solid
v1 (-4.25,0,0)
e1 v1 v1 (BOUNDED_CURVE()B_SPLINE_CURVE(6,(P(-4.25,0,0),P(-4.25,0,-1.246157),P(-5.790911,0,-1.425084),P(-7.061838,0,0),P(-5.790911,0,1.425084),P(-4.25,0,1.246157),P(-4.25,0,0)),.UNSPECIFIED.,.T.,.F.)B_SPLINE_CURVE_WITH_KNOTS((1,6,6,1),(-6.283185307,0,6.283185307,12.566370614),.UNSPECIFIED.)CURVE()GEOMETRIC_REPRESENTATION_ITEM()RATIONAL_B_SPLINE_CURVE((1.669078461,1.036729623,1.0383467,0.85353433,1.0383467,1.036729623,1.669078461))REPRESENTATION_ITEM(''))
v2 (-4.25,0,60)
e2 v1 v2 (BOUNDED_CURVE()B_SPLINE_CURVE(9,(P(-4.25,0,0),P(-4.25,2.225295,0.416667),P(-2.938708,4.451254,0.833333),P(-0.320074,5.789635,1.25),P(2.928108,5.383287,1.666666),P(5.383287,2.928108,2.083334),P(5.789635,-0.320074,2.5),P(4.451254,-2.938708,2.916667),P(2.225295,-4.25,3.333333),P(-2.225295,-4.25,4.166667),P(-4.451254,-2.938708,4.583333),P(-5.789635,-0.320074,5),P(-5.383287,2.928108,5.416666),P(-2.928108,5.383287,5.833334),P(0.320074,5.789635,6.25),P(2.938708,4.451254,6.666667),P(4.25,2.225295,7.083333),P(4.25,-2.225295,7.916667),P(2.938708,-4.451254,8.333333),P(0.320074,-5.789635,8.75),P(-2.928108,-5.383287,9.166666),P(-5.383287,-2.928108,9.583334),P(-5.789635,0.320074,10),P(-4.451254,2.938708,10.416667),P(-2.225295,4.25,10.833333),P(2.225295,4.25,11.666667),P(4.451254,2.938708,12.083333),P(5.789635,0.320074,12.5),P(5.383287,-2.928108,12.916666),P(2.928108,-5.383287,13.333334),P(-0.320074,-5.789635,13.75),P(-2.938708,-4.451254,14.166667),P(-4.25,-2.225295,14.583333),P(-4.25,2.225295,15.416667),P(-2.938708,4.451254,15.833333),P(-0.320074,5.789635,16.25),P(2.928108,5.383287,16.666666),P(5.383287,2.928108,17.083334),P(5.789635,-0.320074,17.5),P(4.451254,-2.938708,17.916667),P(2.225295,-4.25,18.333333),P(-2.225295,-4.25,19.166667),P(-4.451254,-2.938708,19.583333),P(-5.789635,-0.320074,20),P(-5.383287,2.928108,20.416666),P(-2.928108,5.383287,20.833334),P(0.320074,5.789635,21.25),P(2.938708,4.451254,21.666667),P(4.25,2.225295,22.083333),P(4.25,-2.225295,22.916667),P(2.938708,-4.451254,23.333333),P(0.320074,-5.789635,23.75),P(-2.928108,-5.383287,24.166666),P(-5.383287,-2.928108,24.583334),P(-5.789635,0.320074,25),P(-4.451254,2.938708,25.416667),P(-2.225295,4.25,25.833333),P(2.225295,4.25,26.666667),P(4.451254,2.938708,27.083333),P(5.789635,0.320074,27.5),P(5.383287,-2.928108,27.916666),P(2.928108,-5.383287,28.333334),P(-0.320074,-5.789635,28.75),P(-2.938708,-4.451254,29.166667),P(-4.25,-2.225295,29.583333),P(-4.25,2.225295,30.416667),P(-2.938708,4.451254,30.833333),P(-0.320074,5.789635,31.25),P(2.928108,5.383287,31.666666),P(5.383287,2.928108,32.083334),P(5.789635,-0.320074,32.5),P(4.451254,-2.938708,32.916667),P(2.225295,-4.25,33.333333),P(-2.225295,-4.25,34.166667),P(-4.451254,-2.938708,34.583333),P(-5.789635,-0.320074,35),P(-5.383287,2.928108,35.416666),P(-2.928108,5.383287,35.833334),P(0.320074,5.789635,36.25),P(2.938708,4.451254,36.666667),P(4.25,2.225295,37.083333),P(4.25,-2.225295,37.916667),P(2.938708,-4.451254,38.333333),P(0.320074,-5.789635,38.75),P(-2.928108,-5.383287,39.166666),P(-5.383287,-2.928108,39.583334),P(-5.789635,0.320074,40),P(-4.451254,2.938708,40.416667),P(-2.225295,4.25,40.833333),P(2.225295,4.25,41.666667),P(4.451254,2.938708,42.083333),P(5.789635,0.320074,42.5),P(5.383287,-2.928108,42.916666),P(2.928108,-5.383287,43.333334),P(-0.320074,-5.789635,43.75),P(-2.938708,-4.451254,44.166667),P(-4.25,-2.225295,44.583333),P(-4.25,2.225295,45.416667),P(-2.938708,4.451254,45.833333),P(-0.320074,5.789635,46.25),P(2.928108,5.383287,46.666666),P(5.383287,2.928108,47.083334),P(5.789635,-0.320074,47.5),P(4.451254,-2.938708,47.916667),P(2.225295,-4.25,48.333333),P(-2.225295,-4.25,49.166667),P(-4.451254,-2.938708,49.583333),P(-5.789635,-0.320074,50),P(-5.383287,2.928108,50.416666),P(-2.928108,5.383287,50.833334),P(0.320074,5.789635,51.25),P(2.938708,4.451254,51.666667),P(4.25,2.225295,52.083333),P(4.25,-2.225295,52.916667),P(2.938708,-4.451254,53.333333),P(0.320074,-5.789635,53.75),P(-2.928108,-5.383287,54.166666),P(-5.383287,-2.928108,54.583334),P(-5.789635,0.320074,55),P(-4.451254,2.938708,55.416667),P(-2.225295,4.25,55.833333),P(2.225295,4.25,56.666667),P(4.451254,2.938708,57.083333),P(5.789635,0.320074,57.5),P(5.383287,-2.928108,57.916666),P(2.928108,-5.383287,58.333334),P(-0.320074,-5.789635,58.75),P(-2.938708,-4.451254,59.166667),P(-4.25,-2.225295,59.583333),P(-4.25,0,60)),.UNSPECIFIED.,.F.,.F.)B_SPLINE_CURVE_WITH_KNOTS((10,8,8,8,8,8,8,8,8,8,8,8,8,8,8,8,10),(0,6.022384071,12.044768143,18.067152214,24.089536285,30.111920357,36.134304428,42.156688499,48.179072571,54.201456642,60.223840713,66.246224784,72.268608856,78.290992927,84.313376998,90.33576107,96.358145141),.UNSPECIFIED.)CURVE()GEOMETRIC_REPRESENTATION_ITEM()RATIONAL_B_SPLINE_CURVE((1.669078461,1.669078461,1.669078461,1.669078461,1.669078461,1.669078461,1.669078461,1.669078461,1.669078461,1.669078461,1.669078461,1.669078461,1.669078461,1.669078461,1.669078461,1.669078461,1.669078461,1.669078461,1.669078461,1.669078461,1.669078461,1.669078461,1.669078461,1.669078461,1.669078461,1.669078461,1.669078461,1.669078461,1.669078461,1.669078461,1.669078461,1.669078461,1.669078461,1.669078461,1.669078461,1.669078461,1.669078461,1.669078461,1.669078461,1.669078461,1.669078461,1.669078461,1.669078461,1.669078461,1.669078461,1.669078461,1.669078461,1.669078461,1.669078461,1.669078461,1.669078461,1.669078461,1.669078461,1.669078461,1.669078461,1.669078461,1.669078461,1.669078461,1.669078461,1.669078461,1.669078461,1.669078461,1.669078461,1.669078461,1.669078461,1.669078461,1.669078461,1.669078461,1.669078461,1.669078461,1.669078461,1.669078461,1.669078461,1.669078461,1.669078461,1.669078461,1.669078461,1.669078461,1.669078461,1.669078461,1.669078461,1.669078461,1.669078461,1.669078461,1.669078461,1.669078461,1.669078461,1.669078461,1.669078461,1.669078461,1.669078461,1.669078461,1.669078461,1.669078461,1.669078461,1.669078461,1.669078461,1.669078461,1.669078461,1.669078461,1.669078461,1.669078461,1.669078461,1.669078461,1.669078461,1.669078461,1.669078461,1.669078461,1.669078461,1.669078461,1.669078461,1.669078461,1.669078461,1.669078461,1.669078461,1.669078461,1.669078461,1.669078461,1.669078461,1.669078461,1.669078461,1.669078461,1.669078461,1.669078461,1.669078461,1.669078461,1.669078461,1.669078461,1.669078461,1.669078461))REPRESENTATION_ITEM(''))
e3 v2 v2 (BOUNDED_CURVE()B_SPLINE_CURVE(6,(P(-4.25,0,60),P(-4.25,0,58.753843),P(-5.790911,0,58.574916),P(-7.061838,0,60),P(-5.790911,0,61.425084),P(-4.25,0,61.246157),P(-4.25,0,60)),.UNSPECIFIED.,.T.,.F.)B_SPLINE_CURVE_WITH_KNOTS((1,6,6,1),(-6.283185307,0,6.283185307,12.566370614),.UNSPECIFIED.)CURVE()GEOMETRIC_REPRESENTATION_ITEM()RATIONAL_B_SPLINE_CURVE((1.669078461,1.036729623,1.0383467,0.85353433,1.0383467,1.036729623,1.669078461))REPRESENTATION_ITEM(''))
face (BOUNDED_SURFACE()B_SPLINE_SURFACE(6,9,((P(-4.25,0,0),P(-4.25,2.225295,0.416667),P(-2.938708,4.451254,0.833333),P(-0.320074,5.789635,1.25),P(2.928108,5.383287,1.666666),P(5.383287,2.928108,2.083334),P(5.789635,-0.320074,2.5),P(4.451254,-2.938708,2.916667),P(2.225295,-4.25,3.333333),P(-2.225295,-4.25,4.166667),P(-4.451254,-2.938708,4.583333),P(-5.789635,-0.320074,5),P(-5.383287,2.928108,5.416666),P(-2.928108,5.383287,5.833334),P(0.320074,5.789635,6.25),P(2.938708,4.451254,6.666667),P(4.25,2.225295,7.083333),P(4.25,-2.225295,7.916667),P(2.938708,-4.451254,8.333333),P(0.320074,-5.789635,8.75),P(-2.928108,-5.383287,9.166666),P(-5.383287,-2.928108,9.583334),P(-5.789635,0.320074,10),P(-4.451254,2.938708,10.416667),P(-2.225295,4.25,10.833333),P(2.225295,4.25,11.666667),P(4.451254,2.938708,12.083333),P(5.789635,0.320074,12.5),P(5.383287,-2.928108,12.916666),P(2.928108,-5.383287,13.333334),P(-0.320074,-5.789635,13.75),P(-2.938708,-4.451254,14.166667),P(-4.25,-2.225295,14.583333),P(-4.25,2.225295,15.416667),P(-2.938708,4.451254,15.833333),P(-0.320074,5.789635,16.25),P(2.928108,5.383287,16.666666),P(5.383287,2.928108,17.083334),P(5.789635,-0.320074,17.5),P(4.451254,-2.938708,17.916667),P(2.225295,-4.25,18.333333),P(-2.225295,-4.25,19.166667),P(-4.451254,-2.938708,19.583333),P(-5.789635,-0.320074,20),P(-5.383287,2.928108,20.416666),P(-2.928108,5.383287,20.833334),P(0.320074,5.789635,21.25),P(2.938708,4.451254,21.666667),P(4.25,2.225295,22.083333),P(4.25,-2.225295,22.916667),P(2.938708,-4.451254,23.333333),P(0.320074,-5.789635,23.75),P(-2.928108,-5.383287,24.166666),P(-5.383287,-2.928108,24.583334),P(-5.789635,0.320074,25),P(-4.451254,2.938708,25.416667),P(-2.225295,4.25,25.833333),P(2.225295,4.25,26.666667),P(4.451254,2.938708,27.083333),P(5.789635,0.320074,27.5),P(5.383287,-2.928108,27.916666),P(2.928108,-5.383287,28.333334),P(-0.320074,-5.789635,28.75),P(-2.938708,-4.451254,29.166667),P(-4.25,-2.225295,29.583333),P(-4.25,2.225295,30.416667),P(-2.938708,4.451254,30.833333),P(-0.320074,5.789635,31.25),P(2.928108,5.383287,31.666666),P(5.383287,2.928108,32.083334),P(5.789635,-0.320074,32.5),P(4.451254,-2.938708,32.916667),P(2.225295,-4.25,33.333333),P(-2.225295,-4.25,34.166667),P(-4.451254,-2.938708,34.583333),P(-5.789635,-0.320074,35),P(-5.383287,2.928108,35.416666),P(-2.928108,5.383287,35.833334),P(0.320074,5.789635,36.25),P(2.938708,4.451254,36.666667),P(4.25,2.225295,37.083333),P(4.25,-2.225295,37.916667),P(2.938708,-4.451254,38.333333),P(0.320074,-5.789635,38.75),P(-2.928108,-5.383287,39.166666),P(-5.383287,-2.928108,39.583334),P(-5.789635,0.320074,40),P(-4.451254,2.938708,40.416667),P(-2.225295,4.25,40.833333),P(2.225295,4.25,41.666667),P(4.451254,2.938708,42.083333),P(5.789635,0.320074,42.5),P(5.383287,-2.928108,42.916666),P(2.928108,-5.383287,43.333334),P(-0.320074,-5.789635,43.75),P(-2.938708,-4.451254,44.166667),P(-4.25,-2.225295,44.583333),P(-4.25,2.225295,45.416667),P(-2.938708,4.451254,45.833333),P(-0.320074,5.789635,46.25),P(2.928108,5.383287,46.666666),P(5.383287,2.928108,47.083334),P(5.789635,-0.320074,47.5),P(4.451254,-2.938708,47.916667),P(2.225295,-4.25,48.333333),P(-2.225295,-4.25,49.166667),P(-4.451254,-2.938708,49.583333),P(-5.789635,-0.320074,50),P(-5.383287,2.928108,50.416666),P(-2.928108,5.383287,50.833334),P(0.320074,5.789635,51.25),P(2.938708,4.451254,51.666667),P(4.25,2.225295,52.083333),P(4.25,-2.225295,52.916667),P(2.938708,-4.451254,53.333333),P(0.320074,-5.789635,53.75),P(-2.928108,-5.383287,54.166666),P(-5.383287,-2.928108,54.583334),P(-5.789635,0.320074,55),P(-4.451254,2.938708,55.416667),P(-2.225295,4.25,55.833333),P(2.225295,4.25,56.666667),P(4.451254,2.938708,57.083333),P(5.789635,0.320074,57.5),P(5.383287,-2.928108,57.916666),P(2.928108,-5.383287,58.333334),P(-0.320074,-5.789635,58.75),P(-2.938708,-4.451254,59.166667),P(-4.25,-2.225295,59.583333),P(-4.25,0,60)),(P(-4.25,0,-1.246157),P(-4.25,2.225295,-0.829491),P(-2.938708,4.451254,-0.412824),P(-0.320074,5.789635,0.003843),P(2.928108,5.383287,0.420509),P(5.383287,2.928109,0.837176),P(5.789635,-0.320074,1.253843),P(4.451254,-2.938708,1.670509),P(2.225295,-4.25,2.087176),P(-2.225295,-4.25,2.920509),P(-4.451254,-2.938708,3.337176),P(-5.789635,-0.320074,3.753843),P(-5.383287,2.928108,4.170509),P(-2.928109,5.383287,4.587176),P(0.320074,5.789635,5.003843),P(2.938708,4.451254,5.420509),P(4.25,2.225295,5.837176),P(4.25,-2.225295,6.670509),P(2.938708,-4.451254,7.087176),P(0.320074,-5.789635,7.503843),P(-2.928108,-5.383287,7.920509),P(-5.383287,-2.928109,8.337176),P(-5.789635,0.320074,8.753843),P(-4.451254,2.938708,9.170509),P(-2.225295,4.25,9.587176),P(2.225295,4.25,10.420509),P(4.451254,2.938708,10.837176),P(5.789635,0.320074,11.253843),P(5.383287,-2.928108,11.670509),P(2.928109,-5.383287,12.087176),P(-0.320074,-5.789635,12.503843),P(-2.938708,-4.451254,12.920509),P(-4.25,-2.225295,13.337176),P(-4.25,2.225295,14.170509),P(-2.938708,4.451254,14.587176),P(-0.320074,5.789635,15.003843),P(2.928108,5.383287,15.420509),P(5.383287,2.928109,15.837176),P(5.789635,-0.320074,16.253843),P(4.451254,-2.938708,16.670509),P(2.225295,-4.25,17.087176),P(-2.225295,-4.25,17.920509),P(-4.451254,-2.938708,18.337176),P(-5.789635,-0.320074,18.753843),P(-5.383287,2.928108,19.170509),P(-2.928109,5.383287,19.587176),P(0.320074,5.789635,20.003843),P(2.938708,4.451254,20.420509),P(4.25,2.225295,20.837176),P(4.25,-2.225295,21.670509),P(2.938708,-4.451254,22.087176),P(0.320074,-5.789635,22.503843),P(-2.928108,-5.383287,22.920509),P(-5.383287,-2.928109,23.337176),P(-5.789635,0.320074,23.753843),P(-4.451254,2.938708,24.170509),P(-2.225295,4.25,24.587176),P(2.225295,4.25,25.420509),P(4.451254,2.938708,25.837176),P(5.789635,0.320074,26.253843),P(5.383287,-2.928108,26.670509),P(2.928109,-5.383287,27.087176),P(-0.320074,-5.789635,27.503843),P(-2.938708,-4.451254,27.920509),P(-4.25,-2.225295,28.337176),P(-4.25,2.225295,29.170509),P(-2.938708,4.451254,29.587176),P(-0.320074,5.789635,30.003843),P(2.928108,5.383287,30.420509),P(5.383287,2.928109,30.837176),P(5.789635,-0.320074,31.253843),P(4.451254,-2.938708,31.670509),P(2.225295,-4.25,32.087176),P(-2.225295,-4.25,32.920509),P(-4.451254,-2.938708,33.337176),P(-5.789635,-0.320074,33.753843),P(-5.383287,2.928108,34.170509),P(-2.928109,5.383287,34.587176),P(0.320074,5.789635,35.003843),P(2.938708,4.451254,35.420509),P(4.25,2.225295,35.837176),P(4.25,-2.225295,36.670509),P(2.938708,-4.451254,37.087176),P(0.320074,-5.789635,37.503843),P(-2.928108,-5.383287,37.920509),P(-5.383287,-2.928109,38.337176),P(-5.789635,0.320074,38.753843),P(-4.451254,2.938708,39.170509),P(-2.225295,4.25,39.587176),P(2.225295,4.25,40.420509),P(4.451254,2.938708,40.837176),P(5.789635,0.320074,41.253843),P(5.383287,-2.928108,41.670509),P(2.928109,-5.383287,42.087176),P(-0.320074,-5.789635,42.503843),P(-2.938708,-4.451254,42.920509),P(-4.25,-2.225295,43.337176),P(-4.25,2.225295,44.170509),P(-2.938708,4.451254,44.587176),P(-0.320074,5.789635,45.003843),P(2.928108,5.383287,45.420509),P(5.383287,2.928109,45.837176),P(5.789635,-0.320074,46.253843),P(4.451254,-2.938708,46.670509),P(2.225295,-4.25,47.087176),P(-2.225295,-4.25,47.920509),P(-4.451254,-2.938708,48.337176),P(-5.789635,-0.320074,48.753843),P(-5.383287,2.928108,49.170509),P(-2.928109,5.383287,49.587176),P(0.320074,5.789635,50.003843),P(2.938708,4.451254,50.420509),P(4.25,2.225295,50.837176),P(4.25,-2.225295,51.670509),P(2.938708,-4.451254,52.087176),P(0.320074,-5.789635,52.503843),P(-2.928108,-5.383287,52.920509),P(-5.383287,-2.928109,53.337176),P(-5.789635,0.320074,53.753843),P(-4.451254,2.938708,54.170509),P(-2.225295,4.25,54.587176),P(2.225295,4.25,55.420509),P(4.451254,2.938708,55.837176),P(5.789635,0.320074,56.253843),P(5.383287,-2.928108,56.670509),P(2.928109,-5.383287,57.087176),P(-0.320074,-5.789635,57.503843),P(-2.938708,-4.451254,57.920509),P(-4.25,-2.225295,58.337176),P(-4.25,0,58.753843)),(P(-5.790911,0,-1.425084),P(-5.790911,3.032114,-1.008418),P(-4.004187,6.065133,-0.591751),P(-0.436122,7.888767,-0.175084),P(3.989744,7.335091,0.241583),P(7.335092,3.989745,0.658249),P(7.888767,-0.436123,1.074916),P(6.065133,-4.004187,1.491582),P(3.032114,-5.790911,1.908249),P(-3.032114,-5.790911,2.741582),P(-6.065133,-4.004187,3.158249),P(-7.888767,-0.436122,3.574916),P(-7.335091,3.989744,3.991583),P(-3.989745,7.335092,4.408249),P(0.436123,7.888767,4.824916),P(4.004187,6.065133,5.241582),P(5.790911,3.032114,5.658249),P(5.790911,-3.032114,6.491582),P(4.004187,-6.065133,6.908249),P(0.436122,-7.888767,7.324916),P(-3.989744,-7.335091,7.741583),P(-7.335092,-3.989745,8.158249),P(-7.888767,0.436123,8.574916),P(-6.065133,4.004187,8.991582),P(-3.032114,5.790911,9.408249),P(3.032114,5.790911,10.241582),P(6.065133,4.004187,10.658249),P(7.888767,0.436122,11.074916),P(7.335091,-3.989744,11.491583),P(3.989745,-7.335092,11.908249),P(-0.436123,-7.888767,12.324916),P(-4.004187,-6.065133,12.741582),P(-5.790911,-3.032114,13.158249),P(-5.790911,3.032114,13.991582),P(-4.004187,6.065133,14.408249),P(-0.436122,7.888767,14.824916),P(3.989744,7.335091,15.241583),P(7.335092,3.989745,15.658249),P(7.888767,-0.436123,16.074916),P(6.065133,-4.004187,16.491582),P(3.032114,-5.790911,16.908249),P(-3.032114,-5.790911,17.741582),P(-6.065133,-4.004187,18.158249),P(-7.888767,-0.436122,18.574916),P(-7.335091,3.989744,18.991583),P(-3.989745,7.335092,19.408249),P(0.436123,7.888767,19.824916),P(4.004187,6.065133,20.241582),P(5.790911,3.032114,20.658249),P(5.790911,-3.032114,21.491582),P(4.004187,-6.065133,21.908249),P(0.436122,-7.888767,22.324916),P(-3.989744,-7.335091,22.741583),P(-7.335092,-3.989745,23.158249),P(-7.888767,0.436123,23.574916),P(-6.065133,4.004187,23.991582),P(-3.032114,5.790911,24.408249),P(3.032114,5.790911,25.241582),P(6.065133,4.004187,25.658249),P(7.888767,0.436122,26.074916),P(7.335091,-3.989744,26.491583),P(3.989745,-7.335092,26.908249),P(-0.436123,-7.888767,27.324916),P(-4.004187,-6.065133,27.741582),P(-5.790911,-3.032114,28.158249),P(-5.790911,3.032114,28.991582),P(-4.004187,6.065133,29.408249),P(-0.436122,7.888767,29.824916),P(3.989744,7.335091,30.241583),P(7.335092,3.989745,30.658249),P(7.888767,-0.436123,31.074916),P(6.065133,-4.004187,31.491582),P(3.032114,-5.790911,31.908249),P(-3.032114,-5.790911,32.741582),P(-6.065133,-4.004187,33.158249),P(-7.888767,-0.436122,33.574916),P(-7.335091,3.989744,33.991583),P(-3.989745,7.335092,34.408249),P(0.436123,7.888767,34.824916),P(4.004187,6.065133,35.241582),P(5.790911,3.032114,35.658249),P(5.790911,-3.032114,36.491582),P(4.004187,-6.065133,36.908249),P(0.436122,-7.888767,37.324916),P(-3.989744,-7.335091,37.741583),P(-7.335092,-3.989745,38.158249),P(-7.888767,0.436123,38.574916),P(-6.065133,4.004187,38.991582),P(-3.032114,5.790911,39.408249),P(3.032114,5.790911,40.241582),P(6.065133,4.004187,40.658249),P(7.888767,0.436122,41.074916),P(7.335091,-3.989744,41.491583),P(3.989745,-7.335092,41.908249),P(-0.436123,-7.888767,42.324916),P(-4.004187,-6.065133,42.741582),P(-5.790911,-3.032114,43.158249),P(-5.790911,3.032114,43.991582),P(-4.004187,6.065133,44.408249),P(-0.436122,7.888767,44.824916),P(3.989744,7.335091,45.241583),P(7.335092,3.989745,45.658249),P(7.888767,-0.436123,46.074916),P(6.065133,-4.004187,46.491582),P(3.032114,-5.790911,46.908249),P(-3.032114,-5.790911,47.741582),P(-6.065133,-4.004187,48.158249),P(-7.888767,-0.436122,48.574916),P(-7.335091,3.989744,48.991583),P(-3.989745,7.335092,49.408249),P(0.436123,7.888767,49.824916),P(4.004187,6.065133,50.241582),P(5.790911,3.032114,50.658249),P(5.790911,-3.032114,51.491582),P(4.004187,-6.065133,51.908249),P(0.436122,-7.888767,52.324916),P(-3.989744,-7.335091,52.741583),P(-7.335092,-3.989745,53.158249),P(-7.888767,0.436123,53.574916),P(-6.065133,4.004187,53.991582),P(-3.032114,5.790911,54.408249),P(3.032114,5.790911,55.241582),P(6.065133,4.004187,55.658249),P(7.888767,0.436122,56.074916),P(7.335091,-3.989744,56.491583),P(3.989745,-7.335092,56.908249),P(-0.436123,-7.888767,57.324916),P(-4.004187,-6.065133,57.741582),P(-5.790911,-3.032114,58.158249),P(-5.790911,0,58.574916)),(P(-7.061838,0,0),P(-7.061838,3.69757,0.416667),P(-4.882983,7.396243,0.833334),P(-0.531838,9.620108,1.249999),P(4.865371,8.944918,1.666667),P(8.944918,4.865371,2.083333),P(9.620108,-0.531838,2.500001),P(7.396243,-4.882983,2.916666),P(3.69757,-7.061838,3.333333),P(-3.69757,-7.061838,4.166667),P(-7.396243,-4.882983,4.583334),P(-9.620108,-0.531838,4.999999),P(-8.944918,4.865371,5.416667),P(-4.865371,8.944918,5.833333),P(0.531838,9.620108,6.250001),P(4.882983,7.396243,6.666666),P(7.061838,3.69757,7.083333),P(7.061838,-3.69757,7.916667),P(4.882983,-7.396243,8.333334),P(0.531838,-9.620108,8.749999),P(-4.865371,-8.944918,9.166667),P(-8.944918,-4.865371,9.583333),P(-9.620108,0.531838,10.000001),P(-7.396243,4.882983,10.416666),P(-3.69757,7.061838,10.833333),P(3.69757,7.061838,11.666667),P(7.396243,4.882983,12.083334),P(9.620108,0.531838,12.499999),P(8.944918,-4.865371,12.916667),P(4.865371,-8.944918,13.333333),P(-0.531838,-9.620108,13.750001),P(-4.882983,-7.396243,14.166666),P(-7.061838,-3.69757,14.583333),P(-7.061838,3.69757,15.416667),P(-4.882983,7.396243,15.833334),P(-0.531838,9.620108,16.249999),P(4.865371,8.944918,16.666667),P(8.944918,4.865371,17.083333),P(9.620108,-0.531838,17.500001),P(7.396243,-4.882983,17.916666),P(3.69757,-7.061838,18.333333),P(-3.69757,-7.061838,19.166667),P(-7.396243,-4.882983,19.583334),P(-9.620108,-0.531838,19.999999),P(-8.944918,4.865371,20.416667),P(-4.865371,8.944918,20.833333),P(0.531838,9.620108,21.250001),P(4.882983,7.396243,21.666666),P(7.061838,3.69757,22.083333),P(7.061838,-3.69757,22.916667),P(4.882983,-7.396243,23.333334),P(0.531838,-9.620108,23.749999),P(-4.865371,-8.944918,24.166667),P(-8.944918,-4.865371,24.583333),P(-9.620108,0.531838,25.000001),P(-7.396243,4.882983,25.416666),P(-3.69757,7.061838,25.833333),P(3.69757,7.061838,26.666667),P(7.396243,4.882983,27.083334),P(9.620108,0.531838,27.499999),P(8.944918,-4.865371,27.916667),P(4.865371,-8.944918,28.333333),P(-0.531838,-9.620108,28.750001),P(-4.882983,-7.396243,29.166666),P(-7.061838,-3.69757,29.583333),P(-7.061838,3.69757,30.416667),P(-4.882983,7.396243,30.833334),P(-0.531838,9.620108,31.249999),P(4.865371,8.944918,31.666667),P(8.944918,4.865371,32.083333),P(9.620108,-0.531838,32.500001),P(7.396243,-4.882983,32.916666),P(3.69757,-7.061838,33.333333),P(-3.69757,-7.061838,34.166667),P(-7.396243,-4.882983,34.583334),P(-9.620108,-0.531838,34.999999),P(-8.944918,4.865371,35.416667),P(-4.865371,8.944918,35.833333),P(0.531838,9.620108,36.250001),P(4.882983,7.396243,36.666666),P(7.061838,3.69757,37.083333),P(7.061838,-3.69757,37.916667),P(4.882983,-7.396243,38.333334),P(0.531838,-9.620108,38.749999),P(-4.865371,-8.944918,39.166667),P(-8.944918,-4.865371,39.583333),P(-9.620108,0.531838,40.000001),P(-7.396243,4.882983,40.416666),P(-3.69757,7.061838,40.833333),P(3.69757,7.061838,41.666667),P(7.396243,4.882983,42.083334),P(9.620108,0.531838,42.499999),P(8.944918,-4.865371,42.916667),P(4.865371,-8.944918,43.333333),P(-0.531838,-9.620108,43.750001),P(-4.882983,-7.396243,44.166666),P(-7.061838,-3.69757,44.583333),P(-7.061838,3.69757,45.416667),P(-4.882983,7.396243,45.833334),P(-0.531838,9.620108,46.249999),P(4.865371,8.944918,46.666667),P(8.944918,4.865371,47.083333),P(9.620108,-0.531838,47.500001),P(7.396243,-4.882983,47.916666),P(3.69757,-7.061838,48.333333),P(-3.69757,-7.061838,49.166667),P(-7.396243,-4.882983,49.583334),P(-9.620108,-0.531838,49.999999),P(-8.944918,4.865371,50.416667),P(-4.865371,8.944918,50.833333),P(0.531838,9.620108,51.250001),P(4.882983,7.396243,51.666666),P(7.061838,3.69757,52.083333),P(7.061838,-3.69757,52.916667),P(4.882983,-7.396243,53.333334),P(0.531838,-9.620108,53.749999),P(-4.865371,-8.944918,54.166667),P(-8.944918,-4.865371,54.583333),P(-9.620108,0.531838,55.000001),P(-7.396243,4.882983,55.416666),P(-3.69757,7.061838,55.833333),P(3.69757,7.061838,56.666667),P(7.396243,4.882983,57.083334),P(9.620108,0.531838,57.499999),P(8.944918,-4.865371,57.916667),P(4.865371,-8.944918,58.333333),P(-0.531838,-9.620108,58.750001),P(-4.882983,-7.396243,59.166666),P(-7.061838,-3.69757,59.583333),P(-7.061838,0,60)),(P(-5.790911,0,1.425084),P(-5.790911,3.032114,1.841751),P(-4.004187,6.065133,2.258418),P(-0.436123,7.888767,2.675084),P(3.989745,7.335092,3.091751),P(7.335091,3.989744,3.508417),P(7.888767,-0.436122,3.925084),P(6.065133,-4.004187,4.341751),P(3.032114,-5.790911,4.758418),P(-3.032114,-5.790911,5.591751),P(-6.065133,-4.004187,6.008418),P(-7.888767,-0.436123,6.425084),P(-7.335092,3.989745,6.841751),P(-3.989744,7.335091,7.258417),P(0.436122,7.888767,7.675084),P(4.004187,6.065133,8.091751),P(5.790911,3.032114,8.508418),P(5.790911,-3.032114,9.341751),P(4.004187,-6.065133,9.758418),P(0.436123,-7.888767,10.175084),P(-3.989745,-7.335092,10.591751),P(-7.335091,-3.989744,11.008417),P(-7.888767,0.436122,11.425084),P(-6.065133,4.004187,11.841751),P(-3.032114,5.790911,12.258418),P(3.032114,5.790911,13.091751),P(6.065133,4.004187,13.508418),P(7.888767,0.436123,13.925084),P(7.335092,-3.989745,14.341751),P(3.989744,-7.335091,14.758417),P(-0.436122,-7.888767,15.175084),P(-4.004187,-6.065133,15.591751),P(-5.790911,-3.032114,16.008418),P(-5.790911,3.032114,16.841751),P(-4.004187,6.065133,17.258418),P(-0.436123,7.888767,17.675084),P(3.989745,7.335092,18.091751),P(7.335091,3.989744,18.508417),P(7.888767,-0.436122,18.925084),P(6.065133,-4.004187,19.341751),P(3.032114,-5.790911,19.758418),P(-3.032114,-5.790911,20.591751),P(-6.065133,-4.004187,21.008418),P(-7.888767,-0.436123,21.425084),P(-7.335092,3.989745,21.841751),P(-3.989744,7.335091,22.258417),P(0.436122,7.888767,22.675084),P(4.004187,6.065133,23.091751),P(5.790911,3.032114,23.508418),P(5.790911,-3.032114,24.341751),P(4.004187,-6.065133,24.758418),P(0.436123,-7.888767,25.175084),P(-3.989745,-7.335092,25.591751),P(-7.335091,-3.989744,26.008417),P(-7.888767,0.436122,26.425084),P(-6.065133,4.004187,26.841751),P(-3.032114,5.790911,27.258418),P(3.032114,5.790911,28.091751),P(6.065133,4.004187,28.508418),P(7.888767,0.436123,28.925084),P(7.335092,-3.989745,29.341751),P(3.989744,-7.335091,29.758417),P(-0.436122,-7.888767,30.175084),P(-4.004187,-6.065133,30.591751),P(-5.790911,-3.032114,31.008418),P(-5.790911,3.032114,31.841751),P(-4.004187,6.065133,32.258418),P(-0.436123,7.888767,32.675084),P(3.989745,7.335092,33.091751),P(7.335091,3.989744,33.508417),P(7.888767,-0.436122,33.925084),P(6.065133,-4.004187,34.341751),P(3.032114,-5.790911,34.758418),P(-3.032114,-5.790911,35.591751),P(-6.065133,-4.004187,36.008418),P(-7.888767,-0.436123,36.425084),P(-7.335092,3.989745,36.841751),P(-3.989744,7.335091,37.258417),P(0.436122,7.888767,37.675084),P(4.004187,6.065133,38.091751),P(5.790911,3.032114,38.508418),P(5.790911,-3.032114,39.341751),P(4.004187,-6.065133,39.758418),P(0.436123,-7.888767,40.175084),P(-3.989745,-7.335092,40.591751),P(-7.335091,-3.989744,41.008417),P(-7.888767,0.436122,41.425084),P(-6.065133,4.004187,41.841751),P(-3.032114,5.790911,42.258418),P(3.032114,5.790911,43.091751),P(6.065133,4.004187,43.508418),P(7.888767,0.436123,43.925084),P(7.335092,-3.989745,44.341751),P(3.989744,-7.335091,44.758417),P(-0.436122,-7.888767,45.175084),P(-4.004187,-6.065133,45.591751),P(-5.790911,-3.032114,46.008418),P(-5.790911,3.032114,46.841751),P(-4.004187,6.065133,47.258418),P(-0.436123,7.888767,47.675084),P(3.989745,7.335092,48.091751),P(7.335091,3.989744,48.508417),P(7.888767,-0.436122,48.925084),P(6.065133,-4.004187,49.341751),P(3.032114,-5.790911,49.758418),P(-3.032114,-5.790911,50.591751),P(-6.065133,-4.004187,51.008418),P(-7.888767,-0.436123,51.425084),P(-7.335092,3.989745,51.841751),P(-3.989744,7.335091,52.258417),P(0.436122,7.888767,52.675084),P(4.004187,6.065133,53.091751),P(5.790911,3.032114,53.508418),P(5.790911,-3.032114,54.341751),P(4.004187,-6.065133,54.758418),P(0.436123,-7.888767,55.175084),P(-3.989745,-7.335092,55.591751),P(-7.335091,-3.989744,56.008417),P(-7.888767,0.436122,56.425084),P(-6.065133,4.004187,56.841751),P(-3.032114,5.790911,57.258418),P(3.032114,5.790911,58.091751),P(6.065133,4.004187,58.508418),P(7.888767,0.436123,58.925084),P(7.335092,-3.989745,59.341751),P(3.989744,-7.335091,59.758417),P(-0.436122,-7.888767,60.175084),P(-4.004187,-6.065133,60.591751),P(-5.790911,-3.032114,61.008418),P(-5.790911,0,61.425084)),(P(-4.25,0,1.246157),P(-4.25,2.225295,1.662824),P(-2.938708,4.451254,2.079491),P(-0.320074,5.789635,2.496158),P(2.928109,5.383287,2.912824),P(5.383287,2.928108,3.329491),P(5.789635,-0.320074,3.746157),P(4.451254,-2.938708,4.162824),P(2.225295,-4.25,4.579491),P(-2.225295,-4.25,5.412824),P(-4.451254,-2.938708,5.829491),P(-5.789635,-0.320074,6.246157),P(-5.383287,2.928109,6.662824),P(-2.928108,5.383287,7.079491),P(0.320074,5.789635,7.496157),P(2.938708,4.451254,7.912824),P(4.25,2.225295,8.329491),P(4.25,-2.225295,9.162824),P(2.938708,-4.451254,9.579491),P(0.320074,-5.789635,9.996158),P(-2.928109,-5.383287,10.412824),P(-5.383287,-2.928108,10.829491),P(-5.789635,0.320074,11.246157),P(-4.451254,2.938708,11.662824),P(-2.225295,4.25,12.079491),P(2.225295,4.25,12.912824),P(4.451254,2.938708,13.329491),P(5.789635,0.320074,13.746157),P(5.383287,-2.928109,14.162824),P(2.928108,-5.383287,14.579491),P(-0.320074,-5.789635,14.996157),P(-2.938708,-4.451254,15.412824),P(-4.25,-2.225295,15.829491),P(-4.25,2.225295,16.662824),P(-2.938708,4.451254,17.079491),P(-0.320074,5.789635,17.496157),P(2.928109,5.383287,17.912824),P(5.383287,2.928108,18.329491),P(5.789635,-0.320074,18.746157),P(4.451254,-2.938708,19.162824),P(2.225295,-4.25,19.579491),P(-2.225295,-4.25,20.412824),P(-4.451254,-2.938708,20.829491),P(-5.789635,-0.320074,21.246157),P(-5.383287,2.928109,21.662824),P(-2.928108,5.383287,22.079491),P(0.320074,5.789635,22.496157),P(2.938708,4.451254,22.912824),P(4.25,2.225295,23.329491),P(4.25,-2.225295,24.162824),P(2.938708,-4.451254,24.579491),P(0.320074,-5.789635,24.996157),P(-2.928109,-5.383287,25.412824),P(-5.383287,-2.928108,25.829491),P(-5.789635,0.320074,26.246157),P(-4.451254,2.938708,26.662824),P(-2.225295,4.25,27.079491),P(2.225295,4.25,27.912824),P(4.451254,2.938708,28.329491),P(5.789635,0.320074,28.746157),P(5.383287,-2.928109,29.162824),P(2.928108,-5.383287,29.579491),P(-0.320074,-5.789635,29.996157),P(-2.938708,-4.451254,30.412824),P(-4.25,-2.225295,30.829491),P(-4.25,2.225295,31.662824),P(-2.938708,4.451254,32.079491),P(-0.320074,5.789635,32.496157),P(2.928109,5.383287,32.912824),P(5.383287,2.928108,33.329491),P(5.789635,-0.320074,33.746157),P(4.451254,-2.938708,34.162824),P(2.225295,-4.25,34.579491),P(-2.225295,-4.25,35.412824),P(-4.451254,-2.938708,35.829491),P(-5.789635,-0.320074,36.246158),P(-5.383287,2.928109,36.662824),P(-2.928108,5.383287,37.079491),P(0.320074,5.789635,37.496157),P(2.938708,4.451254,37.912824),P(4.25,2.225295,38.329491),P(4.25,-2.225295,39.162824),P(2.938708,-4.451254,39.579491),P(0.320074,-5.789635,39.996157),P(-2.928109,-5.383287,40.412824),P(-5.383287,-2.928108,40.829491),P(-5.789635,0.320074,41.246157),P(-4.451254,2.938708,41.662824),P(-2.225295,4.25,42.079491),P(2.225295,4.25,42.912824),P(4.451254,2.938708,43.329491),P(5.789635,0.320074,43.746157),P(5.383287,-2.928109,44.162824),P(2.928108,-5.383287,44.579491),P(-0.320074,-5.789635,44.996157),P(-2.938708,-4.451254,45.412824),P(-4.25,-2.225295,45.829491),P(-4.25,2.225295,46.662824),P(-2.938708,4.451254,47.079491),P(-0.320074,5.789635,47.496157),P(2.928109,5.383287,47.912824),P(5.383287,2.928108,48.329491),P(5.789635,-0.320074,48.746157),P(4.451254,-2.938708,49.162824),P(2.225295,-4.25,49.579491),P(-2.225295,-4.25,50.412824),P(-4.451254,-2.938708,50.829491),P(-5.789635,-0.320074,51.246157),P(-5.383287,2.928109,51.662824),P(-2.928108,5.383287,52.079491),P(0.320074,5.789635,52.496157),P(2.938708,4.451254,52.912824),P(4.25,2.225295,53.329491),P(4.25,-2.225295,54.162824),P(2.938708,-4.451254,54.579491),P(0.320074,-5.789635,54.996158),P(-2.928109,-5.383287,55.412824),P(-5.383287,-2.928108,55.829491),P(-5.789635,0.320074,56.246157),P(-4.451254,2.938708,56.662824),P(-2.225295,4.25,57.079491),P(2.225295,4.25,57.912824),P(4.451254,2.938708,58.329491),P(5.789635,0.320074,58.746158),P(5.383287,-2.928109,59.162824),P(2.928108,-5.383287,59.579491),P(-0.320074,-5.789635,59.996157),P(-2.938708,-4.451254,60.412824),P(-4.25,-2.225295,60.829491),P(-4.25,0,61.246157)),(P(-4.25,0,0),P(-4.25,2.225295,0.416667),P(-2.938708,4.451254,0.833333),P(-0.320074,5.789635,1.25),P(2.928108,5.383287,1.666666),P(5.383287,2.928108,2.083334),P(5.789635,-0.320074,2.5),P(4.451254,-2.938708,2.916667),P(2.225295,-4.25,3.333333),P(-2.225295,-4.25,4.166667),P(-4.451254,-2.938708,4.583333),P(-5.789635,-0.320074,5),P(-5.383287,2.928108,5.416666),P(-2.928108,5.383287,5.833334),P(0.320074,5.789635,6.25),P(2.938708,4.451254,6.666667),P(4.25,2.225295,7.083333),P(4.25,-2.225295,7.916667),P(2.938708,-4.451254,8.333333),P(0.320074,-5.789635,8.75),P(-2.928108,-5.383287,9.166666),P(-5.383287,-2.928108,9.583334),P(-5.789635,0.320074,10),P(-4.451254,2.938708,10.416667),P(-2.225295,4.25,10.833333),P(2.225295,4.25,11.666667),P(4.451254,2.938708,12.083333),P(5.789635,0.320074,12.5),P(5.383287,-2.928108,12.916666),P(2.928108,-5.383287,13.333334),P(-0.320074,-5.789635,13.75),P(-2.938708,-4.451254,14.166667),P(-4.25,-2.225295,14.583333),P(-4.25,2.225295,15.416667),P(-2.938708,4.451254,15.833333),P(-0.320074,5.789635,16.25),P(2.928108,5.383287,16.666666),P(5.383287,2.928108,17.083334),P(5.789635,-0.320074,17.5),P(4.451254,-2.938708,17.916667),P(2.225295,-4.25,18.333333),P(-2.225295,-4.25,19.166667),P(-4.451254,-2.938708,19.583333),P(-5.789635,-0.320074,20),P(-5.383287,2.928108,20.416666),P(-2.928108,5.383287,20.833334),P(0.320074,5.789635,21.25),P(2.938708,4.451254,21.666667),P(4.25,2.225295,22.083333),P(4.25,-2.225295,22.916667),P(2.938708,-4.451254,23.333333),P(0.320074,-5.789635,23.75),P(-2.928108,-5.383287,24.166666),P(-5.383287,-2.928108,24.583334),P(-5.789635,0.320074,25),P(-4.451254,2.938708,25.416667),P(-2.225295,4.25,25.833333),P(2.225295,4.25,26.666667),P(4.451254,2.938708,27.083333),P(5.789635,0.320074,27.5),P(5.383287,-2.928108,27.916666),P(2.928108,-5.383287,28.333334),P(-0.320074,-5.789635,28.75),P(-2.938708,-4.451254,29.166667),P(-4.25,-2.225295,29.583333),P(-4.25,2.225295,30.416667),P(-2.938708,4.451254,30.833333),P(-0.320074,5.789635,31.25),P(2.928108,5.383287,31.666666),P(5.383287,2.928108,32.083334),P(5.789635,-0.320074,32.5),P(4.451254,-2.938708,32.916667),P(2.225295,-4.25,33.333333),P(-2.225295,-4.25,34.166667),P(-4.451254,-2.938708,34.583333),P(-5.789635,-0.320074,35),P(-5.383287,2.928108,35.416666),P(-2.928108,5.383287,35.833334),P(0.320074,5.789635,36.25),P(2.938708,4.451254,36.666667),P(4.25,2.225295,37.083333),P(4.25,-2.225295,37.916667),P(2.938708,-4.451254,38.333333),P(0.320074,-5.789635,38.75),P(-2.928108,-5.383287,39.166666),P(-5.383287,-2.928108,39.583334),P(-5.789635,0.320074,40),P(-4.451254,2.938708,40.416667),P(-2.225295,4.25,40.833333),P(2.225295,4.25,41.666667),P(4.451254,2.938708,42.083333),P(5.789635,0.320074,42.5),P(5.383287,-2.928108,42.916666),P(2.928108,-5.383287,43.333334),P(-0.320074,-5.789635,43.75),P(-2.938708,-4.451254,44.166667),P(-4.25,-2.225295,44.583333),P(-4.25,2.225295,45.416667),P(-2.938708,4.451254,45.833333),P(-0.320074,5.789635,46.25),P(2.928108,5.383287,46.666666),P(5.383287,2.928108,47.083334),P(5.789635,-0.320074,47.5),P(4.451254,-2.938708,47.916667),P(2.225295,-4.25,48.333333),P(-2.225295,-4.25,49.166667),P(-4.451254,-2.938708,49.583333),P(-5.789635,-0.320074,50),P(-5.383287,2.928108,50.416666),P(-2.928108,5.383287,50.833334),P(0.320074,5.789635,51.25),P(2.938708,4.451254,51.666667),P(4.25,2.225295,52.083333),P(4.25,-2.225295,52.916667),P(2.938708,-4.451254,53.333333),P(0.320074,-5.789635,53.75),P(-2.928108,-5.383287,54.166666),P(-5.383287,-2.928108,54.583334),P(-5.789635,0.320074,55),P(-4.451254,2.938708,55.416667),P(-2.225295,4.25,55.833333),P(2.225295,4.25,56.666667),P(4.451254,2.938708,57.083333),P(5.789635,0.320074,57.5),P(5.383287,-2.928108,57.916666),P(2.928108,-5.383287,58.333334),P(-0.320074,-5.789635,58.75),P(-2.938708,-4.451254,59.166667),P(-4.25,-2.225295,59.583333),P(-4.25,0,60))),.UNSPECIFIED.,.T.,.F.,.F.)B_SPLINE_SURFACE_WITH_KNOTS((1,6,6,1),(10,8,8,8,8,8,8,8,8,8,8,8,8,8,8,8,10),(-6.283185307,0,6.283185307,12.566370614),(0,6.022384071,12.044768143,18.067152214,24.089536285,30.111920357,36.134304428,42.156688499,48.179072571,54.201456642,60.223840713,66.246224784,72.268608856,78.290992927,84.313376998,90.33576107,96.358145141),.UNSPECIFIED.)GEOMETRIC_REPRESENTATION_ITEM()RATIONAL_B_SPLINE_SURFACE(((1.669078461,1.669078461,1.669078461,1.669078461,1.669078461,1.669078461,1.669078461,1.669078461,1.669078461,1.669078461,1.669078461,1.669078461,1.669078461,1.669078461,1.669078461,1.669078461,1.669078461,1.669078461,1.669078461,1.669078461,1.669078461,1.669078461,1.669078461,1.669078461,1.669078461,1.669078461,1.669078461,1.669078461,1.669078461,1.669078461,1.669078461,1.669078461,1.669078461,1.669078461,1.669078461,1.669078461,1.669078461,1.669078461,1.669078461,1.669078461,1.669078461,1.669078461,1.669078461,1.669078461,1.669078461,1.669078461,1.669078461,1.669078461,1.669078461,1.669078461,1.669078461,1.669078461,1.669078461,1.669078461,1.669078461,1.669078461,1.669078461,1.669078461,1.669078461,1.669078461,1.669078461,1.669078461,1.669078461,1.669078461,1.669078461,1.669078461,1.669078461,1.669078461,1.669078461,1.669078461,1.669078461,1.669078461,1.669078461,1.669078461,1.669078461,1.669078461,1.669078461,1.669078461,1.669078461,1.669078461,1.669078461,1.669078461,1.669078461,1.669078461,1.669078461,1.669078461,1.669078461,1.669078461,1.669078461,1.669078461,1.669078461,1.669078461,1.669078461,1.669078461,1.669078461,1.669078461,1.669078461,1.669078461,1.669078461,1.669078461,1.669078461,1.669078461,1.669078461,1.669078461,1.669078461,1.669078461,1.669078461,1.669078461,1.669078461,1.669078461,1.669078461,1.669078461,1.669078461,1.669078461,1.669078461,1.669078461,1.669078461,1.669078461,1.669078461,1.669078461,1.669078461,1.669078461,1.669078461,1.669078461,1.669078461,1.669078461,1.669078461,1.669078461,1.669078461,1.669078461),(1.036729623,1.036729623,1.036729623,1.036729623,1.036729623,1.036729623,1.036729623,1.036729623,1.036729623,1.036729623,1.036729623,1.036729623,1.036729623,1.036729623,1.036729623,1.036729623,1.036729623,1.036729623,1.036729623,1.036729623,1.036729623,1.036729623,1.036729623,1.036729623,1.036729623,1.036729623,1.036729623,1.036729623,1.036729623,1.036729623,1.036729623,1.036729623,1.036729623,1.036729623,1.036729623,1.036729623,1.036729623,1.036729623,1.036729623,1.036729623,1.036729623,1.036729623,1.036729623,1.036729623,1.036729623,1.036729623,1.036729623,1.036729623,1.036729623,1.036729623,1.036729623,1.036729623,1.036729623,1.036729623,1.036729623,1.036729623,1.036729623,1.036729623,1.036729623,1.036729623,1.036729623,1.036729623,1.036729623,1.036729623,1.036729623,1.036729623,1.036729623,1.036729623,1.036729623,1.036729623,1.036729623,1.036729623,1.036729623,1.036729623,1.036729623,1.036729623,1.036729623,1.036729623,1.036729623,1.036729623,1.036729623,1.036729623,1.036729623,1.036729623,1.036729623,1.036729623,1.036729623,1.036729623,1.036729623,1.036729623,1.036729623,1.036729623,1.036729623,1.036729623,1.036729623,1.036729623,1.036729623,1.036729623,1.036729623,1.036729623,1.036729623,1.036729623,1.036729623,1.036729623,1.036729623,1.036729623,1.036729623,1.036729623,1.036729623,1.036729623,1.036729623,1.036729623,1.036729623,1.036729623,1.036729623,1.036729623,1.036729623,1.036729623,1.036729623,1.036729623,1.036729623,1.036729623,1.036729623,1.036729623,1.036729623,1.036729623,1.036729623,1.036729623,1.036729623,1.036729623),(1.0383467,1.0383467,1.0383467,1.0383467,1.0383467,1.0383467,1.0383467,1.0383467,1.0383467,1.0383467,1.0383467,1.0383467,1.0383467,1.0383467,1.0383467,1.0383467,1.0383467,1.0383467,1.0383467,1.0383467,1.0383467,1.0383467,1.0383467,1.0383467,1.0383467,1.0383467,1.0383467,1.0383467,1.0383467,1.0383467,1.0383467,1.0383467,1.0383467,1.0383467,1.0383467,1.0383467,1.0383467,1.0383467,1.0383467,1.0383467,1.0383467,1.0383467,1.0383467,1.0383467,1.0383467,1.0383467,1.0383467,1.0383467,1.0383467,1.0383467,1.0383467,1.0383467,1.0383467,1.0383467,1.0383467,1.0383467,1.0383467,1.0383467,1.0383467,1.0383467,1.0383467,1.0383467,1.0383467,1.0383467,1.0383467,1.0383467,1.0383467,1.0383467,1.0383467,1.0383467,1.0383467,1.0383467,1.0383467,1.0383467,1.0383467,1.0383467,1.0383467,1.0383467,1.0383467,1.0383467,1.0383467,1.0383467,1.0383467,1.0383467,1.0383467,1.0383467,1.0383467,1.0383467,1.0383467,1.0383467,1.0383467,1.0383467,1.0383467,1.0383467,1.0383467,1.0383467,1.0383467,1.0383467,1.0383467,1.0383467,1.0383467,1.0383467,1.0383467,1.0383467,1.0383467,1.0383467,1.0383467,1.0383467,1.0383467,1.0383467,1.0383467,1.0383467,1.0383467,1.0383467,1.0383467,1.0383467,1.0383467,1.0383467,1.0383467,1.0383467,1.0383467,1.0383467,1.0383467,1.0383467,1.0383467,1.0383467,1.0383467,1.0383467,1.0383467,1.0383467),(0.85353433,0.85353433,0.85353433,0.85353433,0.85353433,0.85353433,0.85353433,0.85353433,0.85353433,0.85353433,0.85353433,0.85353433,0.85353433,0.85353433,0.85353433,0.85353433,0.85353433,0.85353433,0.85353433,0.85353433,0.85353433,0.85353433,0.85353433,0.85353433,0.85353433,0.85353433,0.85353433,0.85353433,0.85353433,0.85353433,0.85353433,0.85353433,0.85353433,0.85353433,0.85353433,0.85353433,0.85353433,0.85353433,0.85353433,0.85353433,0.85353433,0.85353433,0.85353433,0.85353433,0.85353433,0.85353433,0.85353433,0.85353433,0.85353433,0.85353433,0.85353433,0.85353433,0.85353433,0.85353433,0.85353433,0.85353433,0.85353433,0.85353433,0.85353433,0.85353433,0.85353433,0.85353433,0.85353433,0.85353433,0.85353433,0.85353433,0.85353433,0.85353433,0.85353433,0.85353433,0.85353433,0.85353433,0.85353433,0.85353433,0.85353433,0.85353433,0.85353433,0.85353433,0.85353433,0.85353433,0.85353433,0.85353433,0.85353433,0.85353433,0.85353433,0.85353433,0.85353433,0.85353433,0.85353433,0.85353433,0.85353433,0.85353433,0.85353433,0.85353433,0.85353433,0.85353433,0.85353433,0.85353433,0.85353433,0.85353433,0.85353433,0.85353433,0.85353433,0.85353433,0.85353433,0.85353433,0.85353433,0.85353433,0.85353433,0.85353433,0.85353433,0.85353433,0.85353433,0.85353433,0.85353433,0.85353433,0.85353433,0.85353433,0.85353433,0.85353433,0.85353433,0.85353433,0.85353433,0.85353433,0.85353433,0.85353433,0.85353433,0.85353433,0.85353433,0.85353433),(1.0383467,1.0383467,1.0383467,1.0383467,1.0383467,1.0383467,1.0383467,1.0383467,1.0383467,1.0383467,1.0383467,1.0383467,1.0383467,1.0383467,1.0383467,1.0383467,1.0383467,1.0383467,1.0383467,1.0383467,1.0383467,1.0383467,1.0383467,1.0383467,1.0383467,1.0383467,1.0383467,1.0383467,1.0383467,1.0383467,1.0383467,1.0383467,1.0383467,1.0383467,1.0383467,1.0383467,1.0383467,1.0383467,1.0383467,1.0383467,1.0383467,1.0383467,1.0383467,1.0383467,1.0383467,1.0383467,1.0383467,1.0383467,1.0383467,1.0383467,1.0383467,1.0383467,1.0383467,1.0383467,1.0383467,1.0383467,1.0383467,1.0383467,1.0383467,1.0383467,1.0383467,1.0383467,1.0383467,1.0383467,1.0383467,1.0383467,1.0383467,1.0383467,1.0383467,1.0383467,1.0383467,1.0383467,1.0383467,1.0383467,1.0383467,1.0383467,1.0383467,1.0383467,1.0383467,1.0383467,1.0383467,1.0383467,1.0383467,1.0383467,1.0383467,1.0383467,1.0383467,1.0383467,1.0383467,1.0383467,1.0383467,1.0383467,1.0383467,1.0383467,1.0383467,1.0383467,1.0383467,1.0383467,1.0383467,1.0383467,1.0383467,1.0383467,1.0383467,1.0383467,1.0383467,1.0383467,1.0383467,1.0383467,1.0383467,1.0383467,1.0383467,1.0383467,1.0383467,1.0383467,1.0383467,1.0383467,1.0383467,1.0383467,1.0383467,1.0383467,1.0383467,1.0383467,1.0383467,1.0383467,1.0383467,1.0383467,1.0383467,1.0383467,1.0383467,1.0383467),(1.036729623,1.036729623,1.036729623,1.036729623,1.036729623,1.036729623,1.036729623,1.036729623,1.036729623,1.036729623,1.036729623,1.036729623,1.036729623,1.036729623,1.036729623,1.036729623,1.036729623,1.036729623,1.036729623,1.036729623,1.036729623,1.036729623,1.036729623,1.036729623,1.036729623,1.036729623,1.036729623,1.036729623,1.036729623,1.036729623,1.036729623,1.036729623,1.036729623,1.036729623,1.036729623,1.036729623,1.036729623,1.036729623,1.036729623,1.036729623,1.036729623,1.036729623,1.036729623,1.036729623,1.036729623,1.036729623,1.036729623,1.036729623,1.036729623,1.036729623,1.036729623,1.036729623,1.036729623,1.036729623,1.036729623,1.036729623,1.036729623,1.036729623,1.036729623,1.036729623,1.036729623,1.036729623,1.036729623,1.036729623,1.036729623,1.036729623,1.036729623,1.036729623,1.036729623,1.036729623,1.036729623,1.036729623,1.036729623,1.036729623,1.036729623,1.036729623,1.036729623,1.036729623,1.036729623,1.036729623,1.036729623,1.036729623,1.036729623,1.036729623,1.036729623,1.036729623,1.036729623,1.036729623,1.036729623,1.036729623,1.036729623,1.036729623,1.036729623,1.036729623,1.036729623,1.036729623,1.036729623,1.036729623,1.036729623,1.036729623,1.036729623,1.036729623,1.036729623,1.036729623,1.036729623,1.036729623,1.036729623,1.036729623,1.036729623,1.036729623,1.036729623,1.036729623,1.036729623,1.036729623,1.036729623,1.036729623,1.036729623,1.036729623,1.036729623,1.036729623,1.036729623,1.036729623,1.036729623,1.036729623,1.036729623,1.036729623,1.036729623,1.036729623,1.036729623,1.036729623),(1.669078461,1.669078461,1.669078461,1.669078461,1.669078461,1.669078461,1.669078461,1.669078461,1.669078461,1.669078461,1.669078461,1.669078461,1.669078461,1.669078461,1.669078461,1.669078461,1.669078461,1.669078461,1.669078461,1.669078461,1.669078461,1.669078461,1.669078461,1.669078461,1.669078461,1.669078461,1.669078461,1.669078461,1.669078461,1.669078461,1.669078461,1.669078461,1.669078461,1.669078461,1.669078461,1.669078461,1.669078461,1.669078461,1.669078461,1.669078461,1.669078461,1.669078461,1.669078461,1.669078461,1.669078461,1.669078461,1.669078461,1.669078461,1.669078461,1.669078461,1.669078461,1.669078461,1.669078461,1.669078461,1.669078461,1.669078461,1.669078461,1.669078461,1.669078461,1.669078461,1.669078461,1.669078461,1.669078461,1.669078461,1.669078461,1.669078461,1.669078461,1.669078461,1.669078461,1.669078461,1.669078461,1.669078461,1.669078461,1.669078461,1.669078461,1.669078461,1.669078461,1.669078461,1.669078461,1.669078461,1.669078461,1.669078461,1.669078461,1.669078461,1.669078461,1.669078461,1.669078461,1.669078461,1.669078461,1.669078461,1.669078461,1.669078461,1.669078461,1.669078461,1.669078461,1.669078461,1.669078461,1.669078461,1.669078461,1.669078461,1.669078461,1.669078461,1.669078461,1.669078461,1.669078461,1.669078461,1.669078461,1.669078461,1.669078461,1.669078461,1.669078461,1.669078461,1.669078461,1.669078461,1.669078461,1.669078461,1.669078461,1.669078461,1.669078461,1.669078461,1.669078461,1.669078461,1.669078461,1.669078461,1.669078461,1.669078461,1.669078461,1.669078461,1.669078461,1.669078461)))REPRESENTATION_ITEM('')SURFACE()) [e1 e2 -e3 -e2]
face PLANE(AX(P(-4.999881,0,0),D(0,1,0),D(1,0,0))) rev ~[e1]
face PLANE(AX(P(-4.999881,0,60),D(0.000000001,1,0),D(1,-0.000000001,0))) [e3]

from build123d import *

# Parameters (mm, degrees)
SWEEP1_PITCH       = 5
SWEEP1_HEIGHT      = 60
SWEEP1_RADIUS      = 5
SWEEP1_START_ANGLE = -180
SKETCH2_R          = 0.75


with BuildPart() as part:
    # Sweep1: sweep along a helix
    with BuildLine() as sweep1_path:
        add(Helix(SWEEP1_PITCH, SWEEP1_HEIGHT, SWEEP1_RADIUS, center=(0, 0, 0), direction=(0, 0, 1), lefthand=True, mode=Mode.PRIVATE).rotate(Axis((0, 0, 0), (0, 0, 1)), SWEEP1_START_ANGLE))
    # Sketch2 → Sweep1 (sweep)
    with BuildSketch(Plane(origin=(0, 0, 0), x_dir=(1, 0, 0), z_dir=(0, 1, 0))):
        with Locations((-5, 0)):
            Circle(SKETCH2_R)
    sweep(path=sweep1_path.line, is_frenet=True)


solid = part.part
